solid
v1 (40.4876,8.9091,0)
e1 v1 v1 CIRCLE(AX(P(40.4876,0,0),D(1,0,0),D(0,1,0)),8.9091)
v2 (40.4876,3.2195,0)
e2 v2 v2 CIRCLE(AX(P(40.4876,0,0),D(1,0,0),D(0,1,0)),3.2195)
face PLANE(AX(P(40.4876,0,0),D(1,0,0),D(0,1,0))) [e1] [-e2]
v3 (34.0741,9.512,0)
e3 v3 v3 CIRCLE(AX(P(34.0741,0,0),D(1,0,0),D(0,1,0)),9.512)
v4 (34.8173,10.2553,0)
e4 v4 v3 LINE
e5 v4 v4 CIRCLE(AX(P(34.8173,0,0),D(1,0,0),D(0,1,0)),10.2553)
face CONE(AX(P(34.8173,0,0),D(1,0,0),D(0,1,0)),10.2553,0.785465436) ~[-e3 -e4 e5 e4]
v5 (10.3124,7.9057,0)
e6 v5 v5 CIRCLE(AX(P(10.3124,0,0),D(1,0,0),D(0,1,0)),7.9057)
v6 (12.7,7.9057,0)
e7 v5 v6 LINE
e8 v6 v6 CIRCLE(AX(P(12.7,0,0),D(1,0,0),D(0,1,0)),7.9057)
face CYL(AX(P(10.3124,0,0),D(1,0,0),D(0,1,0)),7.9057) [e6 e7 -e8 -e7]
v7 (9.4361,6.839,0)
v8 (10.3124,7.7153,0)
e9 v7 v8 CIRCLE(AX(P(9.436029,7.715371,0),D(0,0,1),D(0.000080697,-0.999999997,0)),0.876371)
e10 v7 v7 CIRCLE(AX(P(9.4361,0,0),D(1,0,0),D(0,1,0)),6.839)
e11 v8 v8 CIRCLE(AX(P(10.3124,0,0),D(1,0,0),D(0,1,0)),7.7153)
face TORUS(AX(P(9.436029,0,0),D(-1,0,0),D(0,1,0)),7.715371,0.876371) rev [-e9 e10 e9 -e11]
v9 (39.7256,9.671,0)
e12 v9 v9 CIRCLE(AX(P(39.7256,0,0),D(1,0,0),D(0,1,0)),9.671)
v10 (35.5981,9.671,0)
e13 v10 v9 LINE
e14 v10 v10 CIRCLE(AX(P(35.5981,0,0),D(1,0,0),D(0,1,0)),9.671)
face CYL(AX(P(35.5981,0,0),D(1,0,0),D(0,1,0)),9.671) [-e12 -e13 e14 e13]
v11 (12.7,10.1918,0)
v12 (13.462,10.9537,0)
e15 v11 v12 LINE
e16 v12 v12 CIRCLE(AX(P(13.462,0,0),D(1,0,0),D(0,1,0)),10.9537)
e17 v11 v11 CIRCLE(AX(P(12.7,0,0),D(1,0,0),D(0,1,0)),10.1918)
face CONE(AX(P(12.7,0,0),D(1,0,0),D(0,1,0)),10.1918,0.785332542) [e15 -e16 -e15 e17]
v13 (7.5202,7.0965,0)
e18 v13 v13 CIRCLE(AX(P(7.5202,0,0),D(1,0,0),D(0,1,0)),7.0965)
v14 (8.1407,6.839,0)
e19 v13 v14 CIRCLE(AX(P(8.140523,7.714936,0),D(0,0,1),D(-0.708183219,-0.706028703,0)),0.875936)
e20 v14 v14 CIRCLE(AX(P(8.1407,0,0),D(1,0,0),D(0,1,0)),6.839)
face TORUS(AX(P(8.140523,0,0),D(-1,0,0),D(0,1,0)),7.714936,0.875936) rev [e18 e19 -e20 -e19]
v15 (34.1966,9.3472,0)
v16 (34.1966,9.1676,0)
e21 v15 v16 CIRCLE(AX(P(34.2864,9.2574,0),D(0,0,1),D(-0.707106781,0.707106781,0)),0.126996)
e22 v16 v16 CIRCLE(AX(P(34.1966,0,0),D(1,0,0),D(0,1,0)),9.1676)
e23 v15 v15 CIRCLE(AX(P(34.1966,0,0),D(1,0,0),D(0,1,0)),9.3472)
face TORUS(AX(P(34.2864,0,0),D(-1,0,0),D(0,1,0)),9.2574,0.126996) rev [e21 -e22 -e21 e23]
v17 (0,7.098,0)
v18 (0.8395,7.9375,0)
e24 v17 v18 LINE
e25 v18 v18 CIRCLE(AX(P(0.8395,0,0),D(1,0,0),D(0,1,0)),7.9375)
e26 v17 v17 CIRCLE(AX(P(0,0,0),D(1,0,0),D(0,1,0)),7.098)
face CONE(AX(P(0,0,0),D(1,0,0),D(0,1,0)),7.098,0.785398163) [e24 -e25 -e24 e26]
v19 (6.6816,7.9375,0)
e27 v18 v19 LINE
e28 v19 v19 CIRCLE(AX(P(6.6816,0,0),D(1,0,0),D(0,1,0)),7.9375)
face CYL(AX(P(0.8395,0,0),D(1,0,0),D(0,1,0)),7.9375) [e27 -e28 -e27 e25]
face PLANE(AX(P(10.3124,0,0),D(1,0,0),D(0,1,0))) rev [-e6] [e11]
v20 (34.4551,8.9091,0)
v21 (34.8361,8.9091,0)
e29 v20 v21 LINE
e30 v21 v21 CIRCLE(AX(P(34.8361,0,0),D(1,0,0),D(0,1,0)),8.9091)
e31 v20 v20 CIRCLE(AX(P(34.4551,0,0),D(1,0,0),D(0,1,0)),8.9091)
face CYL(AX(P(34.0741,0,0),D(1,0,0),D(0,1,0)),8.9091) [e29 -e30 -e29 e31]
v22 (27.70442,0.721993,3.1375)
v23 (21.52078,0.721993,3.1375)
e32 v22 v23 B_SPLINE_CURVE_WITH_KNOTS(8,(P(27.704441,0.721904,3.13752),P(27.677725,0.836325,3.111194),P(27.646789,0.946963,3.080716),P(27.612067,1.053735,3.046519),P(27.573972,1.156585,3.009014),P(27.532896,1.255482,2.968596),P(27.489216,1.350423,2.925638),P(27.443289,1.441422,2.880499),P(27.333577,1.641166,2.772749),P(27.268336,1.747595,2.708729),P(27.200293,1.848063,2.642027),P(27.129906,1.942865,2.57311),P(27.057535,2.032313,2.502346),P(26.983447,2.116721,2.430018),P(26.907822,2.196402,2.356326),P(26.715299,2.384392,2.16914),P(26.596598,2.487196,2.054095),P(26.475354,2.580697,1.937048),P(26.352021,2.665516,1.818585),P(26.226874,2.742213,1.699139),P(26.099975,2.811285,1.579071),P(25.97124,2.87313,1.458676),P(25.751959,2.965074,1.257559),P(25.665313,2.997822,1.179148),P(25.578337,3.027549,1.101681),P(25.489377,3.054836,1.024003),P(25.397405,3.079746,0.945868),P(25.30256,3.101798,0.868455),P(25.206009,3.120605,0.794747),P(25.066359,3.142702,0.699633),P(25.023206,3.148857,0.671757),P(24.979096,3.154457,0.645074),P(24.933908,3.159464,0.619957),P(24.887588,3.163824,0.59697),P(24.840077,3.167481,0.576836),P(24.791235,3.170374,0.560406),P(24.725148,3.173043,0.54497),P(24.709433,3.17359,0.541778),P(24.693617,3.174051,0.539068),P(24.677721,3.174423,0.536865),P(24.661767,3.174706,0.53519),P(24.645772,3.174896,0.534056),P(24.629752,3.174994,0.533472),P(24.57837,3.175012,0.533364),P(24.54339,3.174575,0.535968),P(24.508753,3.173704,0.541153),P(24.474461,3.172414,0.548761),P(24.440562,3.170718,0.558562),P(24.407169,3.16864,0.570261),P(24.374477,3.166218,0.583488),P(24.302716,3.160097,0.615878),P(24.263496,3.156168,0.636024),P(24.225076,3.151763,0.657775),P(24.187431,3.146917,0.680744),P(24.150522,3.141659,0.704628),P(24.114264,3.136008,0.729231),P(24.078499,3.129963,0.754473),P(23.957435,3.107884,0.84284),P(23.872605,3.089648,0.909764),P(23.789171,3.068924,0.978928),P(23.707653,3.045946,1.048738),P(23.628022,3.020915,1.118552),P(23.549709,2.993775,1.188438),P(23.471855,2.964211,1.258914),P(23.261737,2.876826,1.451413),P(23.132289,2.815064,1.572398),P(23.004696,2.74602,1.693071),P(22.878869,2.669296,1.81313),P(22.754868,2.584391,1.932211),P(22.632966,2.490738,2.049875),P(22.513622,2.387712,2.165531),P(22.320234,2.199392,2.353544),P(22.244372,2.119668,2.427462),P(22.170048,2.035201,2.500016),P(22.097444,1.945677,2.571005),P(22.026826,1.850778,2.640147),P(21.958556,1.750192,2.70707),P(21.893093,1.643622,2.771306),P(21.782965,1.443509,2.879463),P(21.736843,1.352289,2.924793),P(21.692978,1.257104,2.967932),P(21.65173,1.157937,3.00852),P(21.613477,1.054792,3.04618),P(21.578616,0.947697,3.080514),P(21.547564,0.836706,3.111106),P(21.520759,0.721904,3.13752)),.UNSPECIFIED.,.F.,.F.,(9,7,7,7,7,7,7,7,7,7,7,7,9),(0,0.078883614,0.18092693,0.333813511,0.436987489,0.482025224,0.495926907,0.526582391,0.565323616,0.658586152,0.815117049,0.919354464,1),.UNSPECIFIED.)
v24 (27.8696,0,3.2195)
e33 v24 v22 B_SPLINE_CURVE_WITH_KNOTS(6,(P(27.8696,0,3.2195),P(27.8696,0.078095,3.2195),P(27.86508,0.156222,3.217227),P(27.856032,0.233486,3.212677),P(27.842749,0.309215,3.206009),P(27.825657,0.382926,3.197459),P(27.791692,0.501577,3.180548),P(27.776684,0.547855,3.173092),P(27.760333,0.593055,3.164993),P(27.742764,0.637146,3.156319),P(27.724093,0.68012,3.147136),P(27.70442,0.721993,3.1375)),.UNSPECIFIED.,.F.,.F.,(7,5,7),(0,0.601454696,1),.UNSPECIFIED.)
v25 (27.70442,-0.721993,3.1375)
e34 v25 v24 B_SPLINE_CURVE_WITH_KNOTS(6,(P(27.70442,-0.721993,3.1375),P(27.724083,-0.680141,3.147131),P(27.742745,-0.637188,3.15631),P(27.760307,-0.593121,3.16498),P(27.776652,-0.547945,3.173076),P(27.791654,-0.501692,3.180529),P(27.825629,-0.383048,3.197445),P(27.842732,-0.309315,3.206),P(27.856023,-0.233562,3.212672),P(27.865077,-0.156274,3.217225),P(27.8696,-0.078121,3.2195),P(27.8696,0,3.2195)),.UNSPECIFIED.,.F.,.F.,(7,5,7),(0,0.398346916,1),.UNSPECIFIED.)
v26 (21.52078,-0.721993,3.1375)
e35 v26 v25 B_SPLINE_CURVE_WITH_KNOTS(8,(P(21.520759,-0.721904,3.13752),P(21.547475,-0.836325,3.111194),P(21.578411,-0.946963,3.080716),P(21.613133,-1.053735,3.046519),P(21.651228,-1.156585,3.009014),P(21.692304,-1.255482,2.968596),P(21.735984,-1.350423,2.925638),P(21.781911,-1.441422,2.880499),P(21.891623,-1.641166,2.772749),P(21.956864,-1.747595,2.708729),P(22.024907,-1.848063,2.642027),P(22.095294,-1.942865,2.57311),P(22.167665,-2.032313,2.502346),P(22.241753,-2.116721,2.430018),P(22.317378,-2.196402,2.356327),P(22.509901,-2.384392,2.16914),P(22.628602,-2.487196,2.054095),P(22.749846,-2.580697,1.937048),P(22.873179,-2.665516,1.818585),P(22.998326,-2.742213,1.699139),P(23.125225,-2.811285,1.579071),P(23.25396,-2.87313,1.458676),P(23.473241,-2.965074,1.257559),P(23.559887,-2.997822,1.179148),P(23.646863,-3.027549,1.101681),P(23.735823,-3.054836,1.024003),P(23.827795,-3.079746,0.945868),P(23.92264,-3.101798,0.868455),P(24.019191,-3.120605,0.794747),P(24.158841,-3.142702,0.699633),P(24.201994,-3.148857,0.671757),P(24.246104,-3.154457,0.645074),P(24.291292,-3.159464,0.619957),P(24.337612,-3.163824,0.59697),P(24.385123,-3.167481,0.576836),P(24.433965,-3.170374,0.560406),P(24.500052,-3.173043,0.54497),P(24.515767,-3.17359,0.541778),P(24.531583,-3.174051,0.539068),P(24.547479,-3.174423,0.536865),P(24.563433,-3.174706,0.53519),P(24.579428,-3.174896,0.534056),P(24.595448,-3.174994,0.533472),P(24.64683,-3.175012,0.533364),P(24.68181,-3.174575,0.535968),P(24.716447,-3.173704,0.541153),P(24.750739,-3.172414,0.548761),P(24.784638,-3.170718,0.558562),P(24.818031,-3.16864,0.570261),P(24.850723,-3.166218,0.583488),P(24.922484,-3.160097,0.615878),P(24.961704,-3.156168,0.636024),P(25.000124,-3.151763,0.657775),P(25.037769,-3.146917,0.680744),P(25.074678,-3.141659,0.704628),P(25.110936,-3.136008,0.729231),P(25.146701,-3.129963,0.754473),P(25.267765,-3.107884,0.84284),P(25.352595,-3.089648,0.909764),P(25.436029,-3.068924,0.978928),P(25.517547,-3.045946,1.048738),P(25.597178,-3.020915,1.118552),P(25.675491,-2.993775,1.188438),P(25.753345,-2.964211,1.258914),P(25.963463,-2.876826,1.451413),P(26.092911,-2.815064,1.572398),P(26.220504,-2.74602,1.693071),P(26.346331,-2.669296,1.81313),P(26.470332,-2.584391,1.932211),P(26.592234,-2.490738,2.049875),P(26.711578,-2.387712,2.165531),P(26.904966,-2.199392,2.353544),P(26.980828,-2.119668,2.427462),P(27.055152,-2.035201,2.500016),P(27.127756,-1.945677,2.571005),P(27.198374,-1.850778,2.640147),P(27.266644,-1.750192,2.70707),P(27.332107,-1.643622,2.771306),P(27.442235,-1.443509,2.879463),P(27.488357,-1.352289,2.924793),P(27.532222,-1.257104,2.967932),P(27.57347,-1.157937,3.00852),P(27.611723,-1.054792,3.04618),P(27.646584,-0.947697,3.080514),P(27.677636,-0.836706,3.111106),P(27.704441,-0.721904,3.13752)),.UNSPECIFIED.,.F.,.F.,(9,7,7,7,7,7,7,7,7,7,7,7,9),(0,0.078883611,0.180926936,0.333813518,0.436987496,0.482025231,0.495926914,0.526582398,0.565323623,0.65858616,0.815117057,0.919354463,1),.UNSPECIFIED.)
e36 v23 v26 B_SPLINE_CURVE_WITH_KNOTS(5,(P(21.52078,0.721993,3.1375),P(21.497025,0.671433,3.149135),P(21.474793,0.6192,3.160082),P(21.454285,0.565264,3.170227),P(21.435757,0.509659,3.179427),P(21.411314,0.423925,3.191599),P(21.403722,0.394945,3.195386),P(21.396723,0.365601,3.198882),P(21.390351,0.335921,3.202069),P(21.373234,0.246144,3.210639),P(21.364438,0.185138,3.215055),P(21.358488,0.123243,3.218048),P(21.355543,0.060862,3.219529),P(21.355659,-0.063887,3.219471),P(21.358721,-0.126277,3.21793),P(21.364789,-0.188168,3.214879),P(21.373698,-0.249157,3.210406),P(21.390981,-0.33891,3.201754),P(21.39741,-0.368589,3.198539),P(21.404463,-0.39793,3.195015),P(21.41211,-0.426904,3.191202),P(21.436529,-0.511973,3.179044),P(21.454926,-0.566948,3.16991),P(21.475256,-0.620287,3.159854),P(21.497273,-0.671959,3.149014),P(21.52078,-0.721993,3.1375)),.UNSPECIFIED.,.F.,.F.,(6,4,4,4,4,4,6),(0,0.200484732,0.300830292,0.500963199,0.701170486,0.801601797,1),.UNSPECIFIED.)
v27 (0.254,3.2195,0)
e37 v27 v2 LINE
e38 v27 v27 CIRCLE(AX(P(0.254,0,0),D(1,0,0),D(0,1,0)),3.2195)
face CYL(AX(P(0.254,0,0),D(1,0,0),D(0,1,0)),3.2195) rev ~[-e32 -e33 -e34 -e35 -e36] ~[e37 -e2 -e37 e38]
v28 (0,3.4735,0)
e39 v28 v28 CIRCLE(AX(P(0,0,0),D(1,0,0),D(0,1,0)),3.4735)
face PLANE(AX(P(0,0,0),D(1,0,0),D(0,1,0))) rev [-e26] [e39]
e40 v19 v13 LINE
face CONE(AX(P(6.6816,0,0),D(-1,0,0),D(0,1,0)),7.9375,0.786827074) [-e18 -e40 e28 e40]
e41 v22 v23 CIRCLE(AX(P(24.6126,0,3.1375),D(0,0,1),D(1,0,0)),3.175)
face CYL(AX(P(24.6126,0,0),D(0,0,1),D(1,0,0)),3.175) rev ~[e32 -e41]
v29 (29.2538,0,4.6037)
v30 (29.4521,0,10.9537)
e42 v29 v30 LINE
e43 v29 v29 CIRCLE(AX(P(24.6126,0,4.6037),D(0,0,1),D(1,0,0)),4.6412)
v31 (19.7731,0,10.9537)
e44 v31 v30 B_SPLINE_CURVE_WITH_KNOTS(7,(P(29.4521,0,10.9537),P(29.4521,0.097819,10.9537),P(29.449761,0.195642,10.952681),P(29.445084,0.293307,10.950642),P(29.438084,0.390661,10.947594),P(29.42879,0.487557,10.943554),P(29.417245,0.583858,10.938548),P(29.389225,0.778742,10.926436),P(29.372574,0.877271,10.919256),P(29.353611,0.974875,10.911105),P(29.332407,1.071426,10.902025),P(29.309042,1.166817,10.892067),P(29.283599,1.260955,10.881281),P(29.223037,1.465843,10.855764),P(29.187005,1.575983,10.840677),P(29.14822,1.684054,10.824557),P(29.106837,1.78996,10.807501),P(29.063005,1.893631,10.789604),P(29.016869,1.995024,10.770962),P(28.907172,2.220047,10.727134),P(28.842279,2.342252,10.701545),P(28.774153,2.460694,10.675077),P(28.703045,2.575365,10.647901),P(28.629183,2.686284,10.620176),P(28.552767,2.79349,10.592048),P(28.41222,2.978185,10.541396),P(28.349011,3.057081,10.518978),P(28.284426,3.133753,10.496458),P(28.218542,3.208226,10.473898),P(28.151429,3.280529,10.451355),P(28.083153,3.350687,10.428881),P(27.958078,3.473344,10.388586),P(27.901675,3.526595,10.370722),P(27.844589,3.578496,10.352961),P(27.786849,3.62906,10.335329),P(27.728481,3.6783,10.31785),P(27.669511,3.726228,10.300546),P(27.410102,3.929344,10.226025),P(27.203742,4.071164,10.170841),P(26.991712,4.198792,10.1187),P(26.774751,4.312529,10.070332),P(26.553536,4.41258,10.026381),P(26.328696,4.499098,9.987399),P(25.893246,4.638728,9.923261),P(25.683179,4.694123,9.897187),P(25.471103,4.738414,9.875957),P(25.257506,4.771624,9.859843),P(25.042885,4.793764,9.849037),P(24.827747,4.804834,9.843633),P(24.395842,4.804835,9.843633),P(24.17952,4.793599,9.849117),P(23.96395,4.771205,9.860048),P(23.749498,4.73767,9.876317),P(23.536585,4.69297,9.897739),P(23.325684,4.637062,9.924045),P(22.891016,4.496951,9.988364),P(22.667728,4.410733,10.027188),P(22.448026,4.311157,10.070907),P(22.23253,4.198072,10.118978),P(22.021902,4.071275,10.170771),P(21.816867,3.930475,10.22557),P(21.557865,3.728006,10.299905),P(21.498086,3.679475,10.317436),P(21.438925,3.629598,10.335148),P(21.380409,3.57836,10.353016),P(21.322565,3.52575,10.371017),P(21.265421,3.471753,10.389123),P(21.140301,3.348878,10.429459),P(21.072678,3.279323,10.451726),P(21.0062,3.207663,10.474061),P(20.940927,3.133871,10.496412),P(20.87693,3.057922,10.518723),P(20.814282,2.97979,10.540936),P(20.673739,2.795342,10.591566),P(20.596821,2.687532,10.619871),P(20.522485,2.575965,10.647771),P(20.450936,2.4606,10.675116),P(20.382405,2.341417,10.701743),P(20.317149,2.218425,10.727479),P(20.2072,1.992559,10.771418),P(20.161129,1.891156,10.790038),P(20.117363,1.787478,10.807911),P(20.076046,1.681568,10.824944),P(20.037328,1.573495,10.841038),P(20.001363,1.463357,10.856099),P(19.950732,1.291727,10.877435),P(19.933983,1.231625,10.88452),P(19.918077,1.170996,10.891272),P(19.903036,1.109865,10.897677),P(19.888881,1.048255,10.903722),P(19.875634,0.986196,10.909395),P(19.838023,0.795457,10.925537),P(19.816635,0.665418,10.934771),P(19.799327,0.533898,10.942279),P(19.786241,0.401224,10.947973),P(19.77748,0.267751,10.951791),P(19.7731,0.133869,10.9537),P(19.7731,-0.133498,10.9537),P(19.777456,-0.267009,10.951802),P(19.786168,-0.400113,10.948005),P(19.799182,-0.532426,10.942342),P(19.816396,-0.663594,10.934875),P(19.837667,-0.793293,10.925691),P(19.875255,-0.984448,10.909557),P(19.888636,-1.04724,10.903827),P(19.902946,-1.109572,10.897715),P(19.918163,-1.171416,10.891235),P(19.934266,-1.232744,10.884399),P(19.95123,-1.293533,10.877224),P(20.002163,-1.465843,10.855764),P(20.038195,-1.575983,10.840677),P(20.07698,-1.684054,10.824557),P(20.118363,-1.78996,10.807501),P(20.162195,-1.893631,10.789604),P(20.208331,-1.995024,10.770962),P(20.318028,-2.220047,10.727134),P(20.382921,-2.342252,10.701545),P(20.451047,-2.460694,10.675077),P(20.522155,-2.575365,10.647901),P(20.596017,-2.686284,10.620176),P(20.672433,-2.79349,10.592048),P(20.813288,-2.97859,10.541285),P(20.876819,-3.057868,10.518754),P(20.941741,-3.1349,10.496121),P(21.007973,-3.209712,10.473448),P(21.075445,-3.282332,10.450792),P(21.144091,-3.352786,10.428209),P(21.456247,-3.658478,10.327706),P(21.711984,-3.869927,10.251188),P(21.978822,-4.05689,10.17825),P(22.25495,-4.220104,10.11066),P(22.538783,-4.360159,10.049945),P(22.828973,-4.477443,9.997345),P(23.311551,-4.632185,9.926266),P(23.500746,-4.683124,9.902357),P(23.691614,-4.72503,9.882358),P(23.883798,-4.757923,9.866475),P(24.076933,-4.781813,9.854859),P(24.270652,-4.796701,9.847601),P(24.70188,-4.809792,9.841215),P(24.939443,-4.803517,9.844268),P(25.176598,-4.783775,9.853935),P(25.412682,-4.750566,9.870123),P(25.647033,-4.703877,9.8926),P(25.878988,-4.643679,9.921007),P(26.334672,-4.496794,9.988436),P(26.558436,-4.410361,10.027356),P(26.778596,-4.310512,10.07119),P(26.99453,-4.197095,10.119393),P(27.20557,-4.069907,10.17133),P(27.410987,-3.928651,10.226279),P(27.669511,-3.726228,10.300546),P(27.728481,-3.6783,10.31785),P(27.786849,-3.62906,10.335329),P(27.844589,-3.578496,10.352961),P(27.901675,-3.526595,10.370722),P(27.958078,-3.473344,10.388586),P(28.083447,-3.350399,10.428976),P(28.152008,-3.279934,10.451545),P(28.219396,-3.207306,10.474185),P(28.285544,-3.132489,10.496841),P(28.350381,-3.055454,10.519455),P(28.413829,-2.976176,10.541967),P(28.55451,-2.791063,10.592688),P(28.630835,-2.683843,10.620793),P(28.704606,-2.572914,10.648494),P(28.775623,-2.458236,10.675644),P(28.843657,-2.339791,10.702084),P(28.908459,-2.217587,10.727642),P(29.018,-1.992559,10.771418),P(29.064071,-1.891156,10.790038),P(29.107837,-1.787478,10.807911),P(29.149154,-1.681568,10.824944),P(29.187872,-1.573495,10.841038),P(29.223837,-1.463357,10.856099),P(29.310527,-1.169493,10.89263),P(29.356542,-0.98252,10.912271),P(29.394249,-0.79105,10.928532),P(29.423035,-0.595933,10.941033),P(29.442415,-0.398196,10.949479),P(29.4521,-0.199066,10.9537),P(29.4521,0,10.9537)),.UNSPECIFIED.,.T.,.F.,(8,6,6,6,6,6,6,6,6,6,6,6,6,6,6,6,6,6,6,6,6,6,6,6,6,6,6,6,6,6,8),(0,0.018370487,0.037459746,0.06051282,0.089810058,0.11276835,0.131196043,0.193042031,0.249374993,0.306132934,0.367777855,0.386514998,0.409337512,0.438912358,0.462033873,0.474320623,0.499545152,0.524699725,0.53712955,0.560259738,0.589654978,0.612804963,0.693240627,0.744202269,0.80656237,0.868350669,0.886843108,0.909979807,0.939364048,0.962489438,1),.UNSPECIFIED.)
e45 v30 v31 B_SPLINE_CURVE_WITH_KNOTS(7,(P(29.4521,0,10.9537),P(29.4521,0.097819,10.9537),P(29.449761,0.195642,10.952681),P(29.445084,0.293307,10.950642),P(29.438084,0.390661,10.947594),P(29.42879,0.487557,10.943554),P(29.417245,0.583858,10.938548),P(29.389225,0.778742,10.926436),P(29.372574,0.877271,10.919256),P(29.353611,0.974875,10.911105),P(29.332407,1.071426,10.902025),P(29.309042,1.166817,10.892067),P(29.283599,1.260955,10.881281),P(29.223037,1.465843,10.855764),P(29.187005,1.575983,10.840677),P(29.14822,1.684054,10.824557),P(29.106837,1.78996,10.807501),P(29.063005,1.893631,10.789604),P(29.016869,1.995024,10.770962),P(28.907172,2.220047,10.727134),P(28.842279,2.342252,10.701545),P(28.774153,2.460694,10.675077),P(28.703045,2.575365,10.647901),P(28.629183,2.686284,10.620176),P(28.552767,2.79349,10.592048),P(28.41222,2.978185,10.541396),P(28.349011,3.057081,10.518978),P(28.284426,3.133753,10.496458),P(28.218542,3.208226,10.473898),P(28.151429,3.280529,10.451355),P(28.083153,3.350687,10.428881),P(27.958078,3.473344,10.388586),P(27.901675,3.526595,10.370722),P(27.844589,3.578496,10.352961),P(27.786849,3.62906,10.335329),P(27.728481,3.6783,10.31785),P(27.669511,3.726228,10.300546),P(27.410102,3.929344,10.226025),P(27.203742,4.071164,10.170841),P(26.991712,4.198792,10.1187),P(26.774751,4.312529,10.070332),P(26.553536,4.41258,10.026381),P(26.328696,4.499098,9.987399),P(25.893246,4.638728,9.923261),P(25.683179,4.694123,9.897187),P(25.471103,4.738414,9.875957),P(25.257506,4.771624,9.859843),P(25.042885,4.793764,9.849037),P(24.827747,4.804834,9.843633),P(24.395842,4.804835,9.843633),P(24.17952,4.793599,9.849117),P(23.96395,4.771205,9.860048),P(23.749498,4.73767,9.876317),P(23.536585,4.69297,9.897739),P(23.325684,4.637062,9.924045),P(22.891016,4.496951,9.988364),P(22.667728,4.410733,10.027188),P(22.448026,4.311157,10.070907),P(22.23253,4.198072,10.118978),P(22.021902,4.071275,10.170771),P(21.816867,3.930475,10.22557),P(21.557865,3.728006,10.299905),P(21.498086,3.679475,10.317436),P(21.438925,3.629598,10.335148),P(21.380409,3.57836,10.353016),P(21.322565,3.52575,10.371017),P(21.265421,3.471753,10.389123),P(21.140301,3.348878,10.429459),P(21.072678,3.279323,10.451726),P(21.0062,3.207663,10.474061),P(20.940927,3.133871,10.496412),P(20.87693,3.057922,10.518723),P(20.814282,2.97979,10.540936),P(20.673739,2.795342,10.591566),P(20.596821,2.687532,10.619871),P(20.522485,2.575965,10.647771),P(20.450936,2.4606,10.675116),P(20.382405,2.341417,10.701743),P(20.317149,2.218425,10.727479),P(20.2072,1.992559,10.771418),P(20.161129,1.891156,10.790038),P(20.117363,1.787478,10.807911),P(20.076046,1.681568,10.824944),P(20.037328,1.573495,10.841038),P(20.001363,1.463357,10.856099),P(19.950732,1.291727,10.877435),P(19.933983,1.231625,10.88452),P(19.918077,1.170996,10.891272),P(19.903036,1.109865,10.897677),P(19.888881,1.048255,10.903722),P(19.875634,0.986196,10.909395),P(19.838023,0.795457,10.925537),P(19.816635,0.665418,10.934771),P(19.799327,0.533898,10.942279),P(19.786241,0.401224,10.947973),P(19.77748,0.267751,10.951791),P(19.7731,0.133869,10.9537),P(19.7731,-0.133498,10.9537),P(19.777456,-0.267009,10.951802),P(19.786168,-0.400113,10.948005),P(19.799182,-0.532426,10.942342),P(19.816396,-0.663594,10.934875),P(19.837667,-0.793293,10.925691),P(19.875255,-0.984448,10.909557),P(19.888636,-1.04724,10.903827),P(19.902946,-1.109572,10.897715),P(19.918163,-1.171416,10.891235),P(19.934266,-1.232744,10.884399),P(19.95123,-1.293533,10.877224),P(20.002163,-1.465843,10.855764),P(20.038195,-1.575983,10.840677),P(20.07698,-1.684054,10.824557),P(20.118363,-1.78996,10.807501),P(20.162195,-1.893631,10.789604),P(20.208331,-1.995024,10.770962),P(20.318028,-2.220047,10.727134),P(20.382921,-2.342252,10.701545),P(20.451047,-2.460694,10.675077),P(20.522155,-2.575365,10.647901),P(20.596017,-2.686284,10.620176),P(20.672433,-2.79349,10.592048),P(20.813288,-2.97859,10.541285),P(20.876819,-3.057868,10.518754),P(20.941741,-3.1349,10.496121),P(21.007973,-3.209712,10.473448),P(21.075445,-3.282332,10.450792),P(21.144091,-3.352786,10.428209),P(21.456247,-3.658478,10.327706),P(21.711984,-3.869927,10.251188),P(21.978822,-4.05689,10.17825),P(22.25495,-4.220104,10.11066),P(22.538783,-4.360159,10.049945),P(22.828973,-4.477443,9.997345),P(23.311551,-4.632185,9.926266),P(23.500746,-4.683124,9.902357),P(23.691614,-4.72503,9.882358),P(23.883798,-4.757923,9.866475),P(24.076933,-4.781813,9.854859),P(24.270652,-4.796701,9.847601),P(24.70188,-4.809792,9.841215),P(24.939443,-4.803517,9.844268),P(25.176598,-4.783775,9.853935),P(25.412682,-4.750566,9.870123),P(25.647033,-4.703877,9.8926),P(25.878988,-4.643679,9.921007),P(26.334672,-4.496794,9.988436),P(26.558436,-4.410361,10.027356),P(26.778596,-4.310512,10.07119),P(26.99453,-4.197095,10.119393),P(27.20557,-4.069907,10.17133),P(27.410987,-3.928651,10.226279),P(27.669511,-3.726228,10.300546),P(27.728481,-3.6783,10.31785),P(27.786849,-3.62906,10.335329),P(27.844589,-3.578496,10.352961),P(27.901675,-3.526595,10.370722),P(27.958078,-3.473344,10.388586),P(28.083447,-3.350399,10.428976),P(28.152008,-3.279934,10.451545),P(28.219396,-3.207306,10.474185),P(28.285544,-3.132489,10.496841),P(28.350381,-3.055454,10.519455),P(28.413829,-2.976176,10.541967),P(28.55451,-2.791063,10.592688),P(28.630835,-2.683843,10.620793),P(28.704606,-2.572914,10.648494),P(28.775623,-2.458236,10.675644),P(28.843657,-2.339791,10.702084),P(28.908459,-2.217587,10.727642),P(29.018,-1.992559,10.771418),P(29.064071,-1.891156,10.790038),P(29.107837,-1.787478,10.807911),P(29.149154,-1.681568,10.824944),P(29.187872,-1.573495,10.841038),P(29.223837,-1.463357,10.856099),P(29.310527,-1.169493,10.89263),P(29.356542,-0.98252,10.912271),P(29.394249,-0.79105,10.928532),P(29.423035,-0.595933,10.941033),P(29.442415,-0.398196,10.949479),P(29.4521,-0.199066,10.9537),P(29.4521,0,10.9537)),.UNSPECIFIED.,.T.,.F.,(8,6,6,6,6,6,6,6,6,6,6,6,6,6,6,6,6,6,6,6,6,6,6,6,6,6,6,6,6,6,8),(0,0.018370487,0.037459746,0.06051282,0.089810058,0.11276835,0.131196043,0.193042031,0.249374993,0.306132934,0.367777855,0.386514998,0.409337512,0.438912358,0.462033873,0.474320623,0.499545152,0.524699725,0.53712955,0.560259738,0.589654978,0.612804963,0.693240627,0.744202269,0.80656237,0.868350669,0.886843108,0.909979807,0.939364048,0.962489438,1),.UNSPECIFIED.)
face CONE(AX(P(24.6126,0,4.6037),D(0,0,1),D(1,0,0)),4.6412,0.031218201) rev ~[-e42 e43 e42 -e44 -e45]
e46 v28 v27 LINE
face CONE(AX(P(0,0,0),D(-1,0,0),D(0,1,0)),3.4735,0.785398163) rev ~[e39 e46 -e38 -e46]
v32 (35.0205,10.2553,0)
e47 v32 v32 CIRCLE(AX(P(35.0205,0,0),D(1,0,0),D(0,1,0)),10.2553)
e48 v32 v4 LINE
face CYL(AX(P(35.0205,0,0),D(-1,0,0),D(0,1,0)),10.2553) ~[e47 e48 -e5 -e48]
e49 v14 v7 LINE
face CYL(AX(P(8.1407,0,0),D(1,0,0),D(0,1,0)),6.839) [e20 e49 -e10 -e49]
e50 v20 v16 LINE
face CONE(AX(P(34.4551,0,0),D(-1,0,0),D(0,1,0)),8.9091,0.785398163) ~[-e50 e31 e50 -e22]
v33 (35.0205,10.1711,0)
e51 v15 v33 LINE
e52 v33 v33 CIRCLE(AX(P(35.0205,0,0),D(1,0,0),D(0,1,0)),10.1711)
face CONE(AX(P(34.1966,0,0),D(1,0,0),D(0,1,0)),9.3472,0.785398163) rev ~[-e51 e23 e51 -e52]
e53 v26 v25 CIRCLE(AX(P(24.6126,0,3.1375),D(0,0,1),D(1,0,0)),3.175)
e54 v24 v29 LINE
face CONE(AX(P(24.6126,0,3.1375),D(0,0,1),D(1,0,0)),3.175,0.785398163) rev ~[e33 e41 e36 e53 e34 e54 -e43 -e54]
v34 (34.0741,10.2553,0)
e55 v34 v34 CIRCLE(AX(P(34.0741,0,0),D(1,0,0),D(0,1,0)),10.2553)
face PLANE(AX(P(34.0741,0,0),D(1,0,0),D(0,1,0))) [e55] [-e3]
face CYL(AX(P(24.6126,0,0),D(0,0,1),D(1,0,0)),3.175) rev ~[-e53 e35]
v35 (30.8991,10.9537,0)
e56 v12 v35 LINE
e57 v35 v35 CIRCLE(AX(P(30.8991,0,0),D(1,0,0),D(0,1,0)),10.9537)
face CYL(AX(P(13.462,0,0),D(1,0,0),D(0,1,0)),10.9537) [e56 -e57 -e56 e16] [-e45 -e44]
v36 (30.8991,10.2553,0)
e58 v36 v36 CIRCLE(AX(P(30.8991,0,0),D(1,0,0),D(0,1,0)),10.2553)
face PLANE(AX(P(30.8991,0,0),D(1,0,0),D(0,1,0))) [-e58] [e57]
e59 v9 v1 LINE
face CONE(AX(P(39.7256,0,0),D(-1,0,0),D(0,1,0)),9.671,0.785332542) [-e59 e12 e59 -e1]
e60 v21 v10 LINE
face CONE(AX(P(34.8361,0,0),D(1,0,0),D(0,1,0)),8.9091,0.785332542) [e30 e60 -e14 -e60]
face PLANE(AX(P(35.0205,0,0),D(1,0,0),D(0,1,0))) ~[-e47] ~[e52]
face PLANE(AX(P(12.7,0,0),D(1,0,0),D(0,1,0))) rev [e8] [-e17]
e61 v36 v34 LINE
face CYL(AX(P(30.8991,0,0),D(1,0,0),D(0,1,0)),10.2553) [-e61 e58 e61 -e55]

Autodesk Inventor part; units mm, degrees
sketch "Sketch_2" plane through (0, 0, 0) normal (0, 0, 1) x (1, 0, 0)
  line L0 (12.7, 0) -> (0, 0)
  line L1 (0, 0) -> (0, 7.098)
  line L2 (0, 7.098) -> (0.8395, 7.9375)
  line L3 (0.8395, 7.9375) -> (6.6816, 7.9375)
  line L4 (6.6816, 7.9375) -> (7.5202, 7.0965)
  arc A0 (7.5202, 7.0965) -> (8.1407, 6.839) centre (8.1407, 7.7152) ccw
  line L5 (8.1407, 6.839) -> (9.4361, 6.839)
  arc A1 (9.4361, 6.839) -> (10.3124, 7.7153) centre (9.4361, 7.7152) ccw
  line L6 (10.3124, 7.7153) -> (10.3124, 7.9057)
  line L7 (10.3124, 7.9057) -> (12.7, 7.9057)
  line L8 (12.7, 7.9057) -> (12.7, 0)
  line L9 (12.7, 0) -> (0, 0)
revolve "Revolution1" add sketch "Sketch_2" angle 360 about axis through (12.7, 0, 0) along (1, 0, 0)
thread "Thread1" size "5/8-18 UNF" class "2A" standard "ANSI Unified Screw Threads" full length
sketch "Sketch_3" plane through (0, 0, 0) normal (0, 0, 1) x (1, 0, 0)
  line L0 (40.4876, 0) -> (12.7, 0)
  line L1 (12.7, 0) -> (12.7, 10.1918)
  line L2 (12.7, 10.1918) -> (13.462, 10.9537)
  line L3 (13.462, 10.9537) -> (34.0741, 10.9537)
  line L4 (34.0741, 10.9537) -> (34.0741, 8.9091)
  line L5 (34.0741, 8.9091) -> (34.8361, 8.9091)
  line L6 (34.8361, 8.9091) -> (35.5981, 9.671)
  line L7 (35.5981, 9.671) -> (39.7256, 9.671)
  line L8 (39.7256, 9.671) -> (40.4876, 8.9091)
  line L9 (40.4876, 8.9091) -> (40.4876, 0)
  line L10 (40.4876, 0) -> (12.7, 0)
revolve "Revolution2" add sketch "Sketch_3" angle 360 about axis through (40.4876, 0, 0) along (1, 0, 0)
sketch "Sketch_5_ALT_Drilling_1" plane through (0, 0, 0) normal (0, 0, 1) x (1, 0, 0)
  line L0 (40.4876, 0) -> (0, 0)
  line L1 (0, 0) -> (0, 3.4735)
  line L2 (0, 3.4735) -> (0.254, 3.2195)
  line L3 (0.254, 3.2195) -> (40.4876, 3.2195)
  line L4 (40.4876, 3.2195) -> (40.4876, 0)
  line L5 (40.4876, 0) -> (0, 0)
revolve "Revolution3" cut sketch "Sketch_5_ALT_Drilling_1" angle 360 about axis through (40.4876, 0, 0) along (1, 0, 0)
sketch "Sketch_10" plane through (0, 0, 0) normal (0, 0, 1) x (1, 0, 0)
  line L0 (34.0741, 0) -> (30.8991, 0)
  line L1 (30.8991, 15.3353) -> (30.8991, 10.2553)
  line L2 (30.8991, 10.2553) -> (34.0741, 10.2553)
  line L3 (34.0741, 10.2553) -> (34.0741, 15.3353)
  line L4 (34.0741, 15.3353) -> (30.8991, 15.3353)
revolve "Revolution4" cut sketch "Sketch_10" angle 360 about axis through (34.0741, 0, 0) along (1, 0, 0)
sketch "Sketch_40" plane through (0, 0, 0) normal (0, 1, 0) x (-1, 0, 0)
  line L0 (-24.6126, 10.9537) -> (-24.6126, 0)
  line L1 (-24.6126, 0) -> (-27.7876, 0)
  line L2 (-27.7876, 0) -> (-27.7876, 3.1375)
  line L3 (-27.7876, 3.1375) -> (-29.2538, 4.6037)
  line L4 (-29.2538, 4.6037) -> (-29.4521, 10.9537)
  line L5 (-29.4521, 10.9537) -> (-24.6126, 10.9537)
  line L6 (-24.6126, 10.9537) -> (-24.6126, 0)
revolve "Revolution5" cut sketch "Sketch_40" angle 360 about axis through (24.6126, 0, 10.9537) along (0, 0, 1)
thread "Thread2" size "1/8" designation "1/8 - 27 NPT" standard "NPT" length 3.8119
sketch "Sketch_47" plane through (0, 0, 0) normal (0, 0, 1) x (1, 0, 0)
  line L0 (34.8361, 0) -> (34.0741, 0)
  line L1 (34.0741, 9.512) -> (34.0741, 8.655)
  line L2 (34.0741, 8.655) -> (34.8361, 8.655)
  line L3 (34.8361, 8.655) -> (34.8361, 8.9091)
  line L4 (34.8361, 8.9091) -> (34.4551, 8.9091)
  line L5 (34.4551, 8.9091) -> (34.1966, 9.1676)
  arc A0 (34.1966, 9.3472) -> (34.1966, 9.1676) centre (34.2864, 9.2574) ccw
  line L6 (34.1966, 9.3472) -> (35.0205, 10.1711)
  line L7 (35.0205, 10.1711) -> (35.0205, 10.2553)
  line L8 (35.0205, 10.2553) -> (34.8173, 10.2553)
  line L9 (34.8173, 10.2553) -> (34.0741, 9.512)
revolve "Revolution6" add sketch "Sketch_47" angle 360 about axis through (34.8361, 0, 0) along (1, 0, 0)
ref_plane "dp1_XY" through (12.7, 7.9057, 0) normal (0, 0, 1) x (1, 0, 0)
ref_plane "dp1_YZ" through (12.7, 7.9057, 0) normal (1, 0, 0) x (0, 1, 0)
ref_plane "dp1_ZX" through (12.7, 7.9057, 0) normal (0, 1, 0) x (0, 0, 1)
ref_plane "dp2_XY" through (12.7, -7.9057, 0) normal (0, 0, 1) x (1, 0, 0)
ref_plane "dp2_YZ" through (12.7, -7.9057, 0) normal (1, 0, 0) x (0, 1, 0)
ref_plane "dp2_ZX" through (12.7, -7.9057, 0) normal (0, 1, 0) x (0, 0, 1)
ref_plane "hh_XY" through (0, 7.9375, 0) normal (0, 0, 1) x (1, 0, 0)
ref_plane "hh_YZ" through (0, 7.9375, 0) normal (1, 0, 0) x (0, 1, 0)
ref_plane "hh_ZX" through (0, 7.9375, 0) normal (0, 1, 0) x (0, 0, 1)
ref_plane "port_XY" through (24.6126, 0, 0) normal (0, 0, 1) x (1, 0, 0)
ref_plane "port_YZ" through (24.6126, 0, 0) normal (1, 0, 0) x (0, 1, 0)
ref_plane "port_ZX" through (24.6126, 0, 0) normal (0, 1, 0) x (0, 0, 1)
ref_plane "rod_guide_XY" through (0, 0, 0) normal (1, 0, 0) x (0, 0, -1)
ref_plane "rod_guide_YZ" through (0, 0, 0) normal (0, 0, -1) x (0, 1, 0)
ref_plane "rod_guide_ZX" through (0, 0, 0) normal (0, 1, 0) x (1, 0, 0)
ref_plane "s1_XY" through (10.3124, 0, 0) normal (0, 0, 1) x (1, 0, 0)
ref_plane "s1_YZ" through (10.3124, 0, 0) normal (1, 0, 0) x (0, 1, 0)
ref_plane "s1_ZX" through (10.3124, 0, 0) normal (0, 1, 0) x (0, 0, 1)
ref_plane "s2_XY" through (12.7, 0, 0) normal (0, 0, 1) x (1, 0, 0)
ref_plane "s2_YZ" through (12.7, 0, 0) normal (1, 0, 0) x (0, 1, 0)
ref_plane "s2_ZX" through (12.7, 0, 0) normal (0, 1, 0) x (0, 0, 1)
ref_plane "t1_XY" through (12.7, 0, 0) normal (1, 0, 0) x (0, 0, -1)
ref_plane "t1_YZ" through (12.7, 0, 0) normal (0, 0, -1) x (0, 1, 0)
ref_plane "t1_ZX" through (12.7, 0, 0) normal (0, 1, 0) x (1, 0, 0)
ref_plane "t111_XY" through (12.7, 0, 0) normal (1, 0, 0) x (0, 0, -1)
ref_plane "t111_YZ" through (12.7, 0, 0) normal (0, 0, -1) x (0, 1, 0)
ref_plane "t111_ZX" through (12.7, 0, 0) normal (0, 1, 0) x (1, 0, 0)
ref_plane "to_foot_bracket_XY" through (12.7, 0, 0) normal (1, 0, 0) x (0, 0, -1)
ref_plane "to_foot_bracket_YZ" through (12.7, 0, 0) normal (0, 0, -1) x (0, 1, 0)
ref_plane "to_foot_bracket_ZX" through (12.7, 0, 0) normal (0, 1, 0) x (1, 0, 0)
ref_plane "to_nut_XY" through (10.3124, 0, 0) normal (1, 0, 0) x (0, 0, -1)
ref_plane "to_nut_YZ" through (10.3124, 0, 0) normal (0, 0, -1) x (0, 1, 0)
ref_plane "to_nut_ZX" through (10.3124, 0, 0) normal (0, 1, 0) x (1, 0, 0)
ref_plane "to_rod_XY" through (0, 0, 0) normal (1, 0, 0) x (0, 0, -1)
ref_plane "to_rod_YZ" through (0, 0, 0) normal (0, 0, -1) x (0, 1, 0)
ref_plane "to_rod_ZX" through (0, 0, 0) normal (0, 1, 0) x (1, 0, 0)
ref_plane "to_screw_XY" through (24.6126, 2.032, -6.0452) normal (0, 1, 0) x (1, 0, 0)
ref_plane "to_screw_YZ" through (24.6126, 2.032, -6.0452) normal (1, 0, 0) x (0, 0, -1)
ref_plane "to_screw_ZX" through (24.6126, 2.032, -6.0452) normal (0, 0, -1) x (0, 1, 0)
ref_plane "to_trunnion_brackets_XY" through (11.1252, 0, 0) normal (0, 1, 0) x (1, 0, 0)
ref_plane "to_trunnion_brackets_YZ" through (11.1252, 0, 0) normal (1, 0, 0) x (0, 0, -1)
ref_plane "to_trunnion_brackets_ZX" through (11.1252, 0, 0) normal (0, 0, -1) x (0, 1, 0)
ref_plane "to_trunnion_brackets1_XY" through (11.1252, 12.7, 0) normal (0, 1, 0) x (1, 0, 0)
ref_plane "to_trunnion_brackets1_YZ" through (11.1252, 12.7, 0) normal (1, 0, 0) x (0, 0, -1)
ref_plane "to_trunnion_brackets1_ZX" through (11.1252, 12.7, 0) normal (0, 0, -1) x (0, 1, 0)
ref_plane "to_trunnion_brackets2_XY" through (11.1252, -12.7, 0) normal (0, 1, 0) x (1, 0, 0)
ref_plane "to_trunnion_brackets2_YZ" through (11.1252, -12.7, 0) normal (1, 0, 0) x (0, 0, -1)
ref_plane "to_trunnion_brackets2_ZX" through (11.1252, -12.7, 0) normal (0, 0, -1) x (0, 1, 0)
ref_plane "to_tube_XY" through (34.8361, 0, 0) normal (1, 0, 0) x (0, 0, -1)
ref_plane "to_tube_YZ" through (34.8361, 0, 0) normal (0, 0, -1) x (0, 1, 0)
ref_plane "to_tube_ZX" through (34.8361, 0, 0) normal (0, 1, 0) x (1, 0, 0)
properties part number "04R000-0_rod_guide"
